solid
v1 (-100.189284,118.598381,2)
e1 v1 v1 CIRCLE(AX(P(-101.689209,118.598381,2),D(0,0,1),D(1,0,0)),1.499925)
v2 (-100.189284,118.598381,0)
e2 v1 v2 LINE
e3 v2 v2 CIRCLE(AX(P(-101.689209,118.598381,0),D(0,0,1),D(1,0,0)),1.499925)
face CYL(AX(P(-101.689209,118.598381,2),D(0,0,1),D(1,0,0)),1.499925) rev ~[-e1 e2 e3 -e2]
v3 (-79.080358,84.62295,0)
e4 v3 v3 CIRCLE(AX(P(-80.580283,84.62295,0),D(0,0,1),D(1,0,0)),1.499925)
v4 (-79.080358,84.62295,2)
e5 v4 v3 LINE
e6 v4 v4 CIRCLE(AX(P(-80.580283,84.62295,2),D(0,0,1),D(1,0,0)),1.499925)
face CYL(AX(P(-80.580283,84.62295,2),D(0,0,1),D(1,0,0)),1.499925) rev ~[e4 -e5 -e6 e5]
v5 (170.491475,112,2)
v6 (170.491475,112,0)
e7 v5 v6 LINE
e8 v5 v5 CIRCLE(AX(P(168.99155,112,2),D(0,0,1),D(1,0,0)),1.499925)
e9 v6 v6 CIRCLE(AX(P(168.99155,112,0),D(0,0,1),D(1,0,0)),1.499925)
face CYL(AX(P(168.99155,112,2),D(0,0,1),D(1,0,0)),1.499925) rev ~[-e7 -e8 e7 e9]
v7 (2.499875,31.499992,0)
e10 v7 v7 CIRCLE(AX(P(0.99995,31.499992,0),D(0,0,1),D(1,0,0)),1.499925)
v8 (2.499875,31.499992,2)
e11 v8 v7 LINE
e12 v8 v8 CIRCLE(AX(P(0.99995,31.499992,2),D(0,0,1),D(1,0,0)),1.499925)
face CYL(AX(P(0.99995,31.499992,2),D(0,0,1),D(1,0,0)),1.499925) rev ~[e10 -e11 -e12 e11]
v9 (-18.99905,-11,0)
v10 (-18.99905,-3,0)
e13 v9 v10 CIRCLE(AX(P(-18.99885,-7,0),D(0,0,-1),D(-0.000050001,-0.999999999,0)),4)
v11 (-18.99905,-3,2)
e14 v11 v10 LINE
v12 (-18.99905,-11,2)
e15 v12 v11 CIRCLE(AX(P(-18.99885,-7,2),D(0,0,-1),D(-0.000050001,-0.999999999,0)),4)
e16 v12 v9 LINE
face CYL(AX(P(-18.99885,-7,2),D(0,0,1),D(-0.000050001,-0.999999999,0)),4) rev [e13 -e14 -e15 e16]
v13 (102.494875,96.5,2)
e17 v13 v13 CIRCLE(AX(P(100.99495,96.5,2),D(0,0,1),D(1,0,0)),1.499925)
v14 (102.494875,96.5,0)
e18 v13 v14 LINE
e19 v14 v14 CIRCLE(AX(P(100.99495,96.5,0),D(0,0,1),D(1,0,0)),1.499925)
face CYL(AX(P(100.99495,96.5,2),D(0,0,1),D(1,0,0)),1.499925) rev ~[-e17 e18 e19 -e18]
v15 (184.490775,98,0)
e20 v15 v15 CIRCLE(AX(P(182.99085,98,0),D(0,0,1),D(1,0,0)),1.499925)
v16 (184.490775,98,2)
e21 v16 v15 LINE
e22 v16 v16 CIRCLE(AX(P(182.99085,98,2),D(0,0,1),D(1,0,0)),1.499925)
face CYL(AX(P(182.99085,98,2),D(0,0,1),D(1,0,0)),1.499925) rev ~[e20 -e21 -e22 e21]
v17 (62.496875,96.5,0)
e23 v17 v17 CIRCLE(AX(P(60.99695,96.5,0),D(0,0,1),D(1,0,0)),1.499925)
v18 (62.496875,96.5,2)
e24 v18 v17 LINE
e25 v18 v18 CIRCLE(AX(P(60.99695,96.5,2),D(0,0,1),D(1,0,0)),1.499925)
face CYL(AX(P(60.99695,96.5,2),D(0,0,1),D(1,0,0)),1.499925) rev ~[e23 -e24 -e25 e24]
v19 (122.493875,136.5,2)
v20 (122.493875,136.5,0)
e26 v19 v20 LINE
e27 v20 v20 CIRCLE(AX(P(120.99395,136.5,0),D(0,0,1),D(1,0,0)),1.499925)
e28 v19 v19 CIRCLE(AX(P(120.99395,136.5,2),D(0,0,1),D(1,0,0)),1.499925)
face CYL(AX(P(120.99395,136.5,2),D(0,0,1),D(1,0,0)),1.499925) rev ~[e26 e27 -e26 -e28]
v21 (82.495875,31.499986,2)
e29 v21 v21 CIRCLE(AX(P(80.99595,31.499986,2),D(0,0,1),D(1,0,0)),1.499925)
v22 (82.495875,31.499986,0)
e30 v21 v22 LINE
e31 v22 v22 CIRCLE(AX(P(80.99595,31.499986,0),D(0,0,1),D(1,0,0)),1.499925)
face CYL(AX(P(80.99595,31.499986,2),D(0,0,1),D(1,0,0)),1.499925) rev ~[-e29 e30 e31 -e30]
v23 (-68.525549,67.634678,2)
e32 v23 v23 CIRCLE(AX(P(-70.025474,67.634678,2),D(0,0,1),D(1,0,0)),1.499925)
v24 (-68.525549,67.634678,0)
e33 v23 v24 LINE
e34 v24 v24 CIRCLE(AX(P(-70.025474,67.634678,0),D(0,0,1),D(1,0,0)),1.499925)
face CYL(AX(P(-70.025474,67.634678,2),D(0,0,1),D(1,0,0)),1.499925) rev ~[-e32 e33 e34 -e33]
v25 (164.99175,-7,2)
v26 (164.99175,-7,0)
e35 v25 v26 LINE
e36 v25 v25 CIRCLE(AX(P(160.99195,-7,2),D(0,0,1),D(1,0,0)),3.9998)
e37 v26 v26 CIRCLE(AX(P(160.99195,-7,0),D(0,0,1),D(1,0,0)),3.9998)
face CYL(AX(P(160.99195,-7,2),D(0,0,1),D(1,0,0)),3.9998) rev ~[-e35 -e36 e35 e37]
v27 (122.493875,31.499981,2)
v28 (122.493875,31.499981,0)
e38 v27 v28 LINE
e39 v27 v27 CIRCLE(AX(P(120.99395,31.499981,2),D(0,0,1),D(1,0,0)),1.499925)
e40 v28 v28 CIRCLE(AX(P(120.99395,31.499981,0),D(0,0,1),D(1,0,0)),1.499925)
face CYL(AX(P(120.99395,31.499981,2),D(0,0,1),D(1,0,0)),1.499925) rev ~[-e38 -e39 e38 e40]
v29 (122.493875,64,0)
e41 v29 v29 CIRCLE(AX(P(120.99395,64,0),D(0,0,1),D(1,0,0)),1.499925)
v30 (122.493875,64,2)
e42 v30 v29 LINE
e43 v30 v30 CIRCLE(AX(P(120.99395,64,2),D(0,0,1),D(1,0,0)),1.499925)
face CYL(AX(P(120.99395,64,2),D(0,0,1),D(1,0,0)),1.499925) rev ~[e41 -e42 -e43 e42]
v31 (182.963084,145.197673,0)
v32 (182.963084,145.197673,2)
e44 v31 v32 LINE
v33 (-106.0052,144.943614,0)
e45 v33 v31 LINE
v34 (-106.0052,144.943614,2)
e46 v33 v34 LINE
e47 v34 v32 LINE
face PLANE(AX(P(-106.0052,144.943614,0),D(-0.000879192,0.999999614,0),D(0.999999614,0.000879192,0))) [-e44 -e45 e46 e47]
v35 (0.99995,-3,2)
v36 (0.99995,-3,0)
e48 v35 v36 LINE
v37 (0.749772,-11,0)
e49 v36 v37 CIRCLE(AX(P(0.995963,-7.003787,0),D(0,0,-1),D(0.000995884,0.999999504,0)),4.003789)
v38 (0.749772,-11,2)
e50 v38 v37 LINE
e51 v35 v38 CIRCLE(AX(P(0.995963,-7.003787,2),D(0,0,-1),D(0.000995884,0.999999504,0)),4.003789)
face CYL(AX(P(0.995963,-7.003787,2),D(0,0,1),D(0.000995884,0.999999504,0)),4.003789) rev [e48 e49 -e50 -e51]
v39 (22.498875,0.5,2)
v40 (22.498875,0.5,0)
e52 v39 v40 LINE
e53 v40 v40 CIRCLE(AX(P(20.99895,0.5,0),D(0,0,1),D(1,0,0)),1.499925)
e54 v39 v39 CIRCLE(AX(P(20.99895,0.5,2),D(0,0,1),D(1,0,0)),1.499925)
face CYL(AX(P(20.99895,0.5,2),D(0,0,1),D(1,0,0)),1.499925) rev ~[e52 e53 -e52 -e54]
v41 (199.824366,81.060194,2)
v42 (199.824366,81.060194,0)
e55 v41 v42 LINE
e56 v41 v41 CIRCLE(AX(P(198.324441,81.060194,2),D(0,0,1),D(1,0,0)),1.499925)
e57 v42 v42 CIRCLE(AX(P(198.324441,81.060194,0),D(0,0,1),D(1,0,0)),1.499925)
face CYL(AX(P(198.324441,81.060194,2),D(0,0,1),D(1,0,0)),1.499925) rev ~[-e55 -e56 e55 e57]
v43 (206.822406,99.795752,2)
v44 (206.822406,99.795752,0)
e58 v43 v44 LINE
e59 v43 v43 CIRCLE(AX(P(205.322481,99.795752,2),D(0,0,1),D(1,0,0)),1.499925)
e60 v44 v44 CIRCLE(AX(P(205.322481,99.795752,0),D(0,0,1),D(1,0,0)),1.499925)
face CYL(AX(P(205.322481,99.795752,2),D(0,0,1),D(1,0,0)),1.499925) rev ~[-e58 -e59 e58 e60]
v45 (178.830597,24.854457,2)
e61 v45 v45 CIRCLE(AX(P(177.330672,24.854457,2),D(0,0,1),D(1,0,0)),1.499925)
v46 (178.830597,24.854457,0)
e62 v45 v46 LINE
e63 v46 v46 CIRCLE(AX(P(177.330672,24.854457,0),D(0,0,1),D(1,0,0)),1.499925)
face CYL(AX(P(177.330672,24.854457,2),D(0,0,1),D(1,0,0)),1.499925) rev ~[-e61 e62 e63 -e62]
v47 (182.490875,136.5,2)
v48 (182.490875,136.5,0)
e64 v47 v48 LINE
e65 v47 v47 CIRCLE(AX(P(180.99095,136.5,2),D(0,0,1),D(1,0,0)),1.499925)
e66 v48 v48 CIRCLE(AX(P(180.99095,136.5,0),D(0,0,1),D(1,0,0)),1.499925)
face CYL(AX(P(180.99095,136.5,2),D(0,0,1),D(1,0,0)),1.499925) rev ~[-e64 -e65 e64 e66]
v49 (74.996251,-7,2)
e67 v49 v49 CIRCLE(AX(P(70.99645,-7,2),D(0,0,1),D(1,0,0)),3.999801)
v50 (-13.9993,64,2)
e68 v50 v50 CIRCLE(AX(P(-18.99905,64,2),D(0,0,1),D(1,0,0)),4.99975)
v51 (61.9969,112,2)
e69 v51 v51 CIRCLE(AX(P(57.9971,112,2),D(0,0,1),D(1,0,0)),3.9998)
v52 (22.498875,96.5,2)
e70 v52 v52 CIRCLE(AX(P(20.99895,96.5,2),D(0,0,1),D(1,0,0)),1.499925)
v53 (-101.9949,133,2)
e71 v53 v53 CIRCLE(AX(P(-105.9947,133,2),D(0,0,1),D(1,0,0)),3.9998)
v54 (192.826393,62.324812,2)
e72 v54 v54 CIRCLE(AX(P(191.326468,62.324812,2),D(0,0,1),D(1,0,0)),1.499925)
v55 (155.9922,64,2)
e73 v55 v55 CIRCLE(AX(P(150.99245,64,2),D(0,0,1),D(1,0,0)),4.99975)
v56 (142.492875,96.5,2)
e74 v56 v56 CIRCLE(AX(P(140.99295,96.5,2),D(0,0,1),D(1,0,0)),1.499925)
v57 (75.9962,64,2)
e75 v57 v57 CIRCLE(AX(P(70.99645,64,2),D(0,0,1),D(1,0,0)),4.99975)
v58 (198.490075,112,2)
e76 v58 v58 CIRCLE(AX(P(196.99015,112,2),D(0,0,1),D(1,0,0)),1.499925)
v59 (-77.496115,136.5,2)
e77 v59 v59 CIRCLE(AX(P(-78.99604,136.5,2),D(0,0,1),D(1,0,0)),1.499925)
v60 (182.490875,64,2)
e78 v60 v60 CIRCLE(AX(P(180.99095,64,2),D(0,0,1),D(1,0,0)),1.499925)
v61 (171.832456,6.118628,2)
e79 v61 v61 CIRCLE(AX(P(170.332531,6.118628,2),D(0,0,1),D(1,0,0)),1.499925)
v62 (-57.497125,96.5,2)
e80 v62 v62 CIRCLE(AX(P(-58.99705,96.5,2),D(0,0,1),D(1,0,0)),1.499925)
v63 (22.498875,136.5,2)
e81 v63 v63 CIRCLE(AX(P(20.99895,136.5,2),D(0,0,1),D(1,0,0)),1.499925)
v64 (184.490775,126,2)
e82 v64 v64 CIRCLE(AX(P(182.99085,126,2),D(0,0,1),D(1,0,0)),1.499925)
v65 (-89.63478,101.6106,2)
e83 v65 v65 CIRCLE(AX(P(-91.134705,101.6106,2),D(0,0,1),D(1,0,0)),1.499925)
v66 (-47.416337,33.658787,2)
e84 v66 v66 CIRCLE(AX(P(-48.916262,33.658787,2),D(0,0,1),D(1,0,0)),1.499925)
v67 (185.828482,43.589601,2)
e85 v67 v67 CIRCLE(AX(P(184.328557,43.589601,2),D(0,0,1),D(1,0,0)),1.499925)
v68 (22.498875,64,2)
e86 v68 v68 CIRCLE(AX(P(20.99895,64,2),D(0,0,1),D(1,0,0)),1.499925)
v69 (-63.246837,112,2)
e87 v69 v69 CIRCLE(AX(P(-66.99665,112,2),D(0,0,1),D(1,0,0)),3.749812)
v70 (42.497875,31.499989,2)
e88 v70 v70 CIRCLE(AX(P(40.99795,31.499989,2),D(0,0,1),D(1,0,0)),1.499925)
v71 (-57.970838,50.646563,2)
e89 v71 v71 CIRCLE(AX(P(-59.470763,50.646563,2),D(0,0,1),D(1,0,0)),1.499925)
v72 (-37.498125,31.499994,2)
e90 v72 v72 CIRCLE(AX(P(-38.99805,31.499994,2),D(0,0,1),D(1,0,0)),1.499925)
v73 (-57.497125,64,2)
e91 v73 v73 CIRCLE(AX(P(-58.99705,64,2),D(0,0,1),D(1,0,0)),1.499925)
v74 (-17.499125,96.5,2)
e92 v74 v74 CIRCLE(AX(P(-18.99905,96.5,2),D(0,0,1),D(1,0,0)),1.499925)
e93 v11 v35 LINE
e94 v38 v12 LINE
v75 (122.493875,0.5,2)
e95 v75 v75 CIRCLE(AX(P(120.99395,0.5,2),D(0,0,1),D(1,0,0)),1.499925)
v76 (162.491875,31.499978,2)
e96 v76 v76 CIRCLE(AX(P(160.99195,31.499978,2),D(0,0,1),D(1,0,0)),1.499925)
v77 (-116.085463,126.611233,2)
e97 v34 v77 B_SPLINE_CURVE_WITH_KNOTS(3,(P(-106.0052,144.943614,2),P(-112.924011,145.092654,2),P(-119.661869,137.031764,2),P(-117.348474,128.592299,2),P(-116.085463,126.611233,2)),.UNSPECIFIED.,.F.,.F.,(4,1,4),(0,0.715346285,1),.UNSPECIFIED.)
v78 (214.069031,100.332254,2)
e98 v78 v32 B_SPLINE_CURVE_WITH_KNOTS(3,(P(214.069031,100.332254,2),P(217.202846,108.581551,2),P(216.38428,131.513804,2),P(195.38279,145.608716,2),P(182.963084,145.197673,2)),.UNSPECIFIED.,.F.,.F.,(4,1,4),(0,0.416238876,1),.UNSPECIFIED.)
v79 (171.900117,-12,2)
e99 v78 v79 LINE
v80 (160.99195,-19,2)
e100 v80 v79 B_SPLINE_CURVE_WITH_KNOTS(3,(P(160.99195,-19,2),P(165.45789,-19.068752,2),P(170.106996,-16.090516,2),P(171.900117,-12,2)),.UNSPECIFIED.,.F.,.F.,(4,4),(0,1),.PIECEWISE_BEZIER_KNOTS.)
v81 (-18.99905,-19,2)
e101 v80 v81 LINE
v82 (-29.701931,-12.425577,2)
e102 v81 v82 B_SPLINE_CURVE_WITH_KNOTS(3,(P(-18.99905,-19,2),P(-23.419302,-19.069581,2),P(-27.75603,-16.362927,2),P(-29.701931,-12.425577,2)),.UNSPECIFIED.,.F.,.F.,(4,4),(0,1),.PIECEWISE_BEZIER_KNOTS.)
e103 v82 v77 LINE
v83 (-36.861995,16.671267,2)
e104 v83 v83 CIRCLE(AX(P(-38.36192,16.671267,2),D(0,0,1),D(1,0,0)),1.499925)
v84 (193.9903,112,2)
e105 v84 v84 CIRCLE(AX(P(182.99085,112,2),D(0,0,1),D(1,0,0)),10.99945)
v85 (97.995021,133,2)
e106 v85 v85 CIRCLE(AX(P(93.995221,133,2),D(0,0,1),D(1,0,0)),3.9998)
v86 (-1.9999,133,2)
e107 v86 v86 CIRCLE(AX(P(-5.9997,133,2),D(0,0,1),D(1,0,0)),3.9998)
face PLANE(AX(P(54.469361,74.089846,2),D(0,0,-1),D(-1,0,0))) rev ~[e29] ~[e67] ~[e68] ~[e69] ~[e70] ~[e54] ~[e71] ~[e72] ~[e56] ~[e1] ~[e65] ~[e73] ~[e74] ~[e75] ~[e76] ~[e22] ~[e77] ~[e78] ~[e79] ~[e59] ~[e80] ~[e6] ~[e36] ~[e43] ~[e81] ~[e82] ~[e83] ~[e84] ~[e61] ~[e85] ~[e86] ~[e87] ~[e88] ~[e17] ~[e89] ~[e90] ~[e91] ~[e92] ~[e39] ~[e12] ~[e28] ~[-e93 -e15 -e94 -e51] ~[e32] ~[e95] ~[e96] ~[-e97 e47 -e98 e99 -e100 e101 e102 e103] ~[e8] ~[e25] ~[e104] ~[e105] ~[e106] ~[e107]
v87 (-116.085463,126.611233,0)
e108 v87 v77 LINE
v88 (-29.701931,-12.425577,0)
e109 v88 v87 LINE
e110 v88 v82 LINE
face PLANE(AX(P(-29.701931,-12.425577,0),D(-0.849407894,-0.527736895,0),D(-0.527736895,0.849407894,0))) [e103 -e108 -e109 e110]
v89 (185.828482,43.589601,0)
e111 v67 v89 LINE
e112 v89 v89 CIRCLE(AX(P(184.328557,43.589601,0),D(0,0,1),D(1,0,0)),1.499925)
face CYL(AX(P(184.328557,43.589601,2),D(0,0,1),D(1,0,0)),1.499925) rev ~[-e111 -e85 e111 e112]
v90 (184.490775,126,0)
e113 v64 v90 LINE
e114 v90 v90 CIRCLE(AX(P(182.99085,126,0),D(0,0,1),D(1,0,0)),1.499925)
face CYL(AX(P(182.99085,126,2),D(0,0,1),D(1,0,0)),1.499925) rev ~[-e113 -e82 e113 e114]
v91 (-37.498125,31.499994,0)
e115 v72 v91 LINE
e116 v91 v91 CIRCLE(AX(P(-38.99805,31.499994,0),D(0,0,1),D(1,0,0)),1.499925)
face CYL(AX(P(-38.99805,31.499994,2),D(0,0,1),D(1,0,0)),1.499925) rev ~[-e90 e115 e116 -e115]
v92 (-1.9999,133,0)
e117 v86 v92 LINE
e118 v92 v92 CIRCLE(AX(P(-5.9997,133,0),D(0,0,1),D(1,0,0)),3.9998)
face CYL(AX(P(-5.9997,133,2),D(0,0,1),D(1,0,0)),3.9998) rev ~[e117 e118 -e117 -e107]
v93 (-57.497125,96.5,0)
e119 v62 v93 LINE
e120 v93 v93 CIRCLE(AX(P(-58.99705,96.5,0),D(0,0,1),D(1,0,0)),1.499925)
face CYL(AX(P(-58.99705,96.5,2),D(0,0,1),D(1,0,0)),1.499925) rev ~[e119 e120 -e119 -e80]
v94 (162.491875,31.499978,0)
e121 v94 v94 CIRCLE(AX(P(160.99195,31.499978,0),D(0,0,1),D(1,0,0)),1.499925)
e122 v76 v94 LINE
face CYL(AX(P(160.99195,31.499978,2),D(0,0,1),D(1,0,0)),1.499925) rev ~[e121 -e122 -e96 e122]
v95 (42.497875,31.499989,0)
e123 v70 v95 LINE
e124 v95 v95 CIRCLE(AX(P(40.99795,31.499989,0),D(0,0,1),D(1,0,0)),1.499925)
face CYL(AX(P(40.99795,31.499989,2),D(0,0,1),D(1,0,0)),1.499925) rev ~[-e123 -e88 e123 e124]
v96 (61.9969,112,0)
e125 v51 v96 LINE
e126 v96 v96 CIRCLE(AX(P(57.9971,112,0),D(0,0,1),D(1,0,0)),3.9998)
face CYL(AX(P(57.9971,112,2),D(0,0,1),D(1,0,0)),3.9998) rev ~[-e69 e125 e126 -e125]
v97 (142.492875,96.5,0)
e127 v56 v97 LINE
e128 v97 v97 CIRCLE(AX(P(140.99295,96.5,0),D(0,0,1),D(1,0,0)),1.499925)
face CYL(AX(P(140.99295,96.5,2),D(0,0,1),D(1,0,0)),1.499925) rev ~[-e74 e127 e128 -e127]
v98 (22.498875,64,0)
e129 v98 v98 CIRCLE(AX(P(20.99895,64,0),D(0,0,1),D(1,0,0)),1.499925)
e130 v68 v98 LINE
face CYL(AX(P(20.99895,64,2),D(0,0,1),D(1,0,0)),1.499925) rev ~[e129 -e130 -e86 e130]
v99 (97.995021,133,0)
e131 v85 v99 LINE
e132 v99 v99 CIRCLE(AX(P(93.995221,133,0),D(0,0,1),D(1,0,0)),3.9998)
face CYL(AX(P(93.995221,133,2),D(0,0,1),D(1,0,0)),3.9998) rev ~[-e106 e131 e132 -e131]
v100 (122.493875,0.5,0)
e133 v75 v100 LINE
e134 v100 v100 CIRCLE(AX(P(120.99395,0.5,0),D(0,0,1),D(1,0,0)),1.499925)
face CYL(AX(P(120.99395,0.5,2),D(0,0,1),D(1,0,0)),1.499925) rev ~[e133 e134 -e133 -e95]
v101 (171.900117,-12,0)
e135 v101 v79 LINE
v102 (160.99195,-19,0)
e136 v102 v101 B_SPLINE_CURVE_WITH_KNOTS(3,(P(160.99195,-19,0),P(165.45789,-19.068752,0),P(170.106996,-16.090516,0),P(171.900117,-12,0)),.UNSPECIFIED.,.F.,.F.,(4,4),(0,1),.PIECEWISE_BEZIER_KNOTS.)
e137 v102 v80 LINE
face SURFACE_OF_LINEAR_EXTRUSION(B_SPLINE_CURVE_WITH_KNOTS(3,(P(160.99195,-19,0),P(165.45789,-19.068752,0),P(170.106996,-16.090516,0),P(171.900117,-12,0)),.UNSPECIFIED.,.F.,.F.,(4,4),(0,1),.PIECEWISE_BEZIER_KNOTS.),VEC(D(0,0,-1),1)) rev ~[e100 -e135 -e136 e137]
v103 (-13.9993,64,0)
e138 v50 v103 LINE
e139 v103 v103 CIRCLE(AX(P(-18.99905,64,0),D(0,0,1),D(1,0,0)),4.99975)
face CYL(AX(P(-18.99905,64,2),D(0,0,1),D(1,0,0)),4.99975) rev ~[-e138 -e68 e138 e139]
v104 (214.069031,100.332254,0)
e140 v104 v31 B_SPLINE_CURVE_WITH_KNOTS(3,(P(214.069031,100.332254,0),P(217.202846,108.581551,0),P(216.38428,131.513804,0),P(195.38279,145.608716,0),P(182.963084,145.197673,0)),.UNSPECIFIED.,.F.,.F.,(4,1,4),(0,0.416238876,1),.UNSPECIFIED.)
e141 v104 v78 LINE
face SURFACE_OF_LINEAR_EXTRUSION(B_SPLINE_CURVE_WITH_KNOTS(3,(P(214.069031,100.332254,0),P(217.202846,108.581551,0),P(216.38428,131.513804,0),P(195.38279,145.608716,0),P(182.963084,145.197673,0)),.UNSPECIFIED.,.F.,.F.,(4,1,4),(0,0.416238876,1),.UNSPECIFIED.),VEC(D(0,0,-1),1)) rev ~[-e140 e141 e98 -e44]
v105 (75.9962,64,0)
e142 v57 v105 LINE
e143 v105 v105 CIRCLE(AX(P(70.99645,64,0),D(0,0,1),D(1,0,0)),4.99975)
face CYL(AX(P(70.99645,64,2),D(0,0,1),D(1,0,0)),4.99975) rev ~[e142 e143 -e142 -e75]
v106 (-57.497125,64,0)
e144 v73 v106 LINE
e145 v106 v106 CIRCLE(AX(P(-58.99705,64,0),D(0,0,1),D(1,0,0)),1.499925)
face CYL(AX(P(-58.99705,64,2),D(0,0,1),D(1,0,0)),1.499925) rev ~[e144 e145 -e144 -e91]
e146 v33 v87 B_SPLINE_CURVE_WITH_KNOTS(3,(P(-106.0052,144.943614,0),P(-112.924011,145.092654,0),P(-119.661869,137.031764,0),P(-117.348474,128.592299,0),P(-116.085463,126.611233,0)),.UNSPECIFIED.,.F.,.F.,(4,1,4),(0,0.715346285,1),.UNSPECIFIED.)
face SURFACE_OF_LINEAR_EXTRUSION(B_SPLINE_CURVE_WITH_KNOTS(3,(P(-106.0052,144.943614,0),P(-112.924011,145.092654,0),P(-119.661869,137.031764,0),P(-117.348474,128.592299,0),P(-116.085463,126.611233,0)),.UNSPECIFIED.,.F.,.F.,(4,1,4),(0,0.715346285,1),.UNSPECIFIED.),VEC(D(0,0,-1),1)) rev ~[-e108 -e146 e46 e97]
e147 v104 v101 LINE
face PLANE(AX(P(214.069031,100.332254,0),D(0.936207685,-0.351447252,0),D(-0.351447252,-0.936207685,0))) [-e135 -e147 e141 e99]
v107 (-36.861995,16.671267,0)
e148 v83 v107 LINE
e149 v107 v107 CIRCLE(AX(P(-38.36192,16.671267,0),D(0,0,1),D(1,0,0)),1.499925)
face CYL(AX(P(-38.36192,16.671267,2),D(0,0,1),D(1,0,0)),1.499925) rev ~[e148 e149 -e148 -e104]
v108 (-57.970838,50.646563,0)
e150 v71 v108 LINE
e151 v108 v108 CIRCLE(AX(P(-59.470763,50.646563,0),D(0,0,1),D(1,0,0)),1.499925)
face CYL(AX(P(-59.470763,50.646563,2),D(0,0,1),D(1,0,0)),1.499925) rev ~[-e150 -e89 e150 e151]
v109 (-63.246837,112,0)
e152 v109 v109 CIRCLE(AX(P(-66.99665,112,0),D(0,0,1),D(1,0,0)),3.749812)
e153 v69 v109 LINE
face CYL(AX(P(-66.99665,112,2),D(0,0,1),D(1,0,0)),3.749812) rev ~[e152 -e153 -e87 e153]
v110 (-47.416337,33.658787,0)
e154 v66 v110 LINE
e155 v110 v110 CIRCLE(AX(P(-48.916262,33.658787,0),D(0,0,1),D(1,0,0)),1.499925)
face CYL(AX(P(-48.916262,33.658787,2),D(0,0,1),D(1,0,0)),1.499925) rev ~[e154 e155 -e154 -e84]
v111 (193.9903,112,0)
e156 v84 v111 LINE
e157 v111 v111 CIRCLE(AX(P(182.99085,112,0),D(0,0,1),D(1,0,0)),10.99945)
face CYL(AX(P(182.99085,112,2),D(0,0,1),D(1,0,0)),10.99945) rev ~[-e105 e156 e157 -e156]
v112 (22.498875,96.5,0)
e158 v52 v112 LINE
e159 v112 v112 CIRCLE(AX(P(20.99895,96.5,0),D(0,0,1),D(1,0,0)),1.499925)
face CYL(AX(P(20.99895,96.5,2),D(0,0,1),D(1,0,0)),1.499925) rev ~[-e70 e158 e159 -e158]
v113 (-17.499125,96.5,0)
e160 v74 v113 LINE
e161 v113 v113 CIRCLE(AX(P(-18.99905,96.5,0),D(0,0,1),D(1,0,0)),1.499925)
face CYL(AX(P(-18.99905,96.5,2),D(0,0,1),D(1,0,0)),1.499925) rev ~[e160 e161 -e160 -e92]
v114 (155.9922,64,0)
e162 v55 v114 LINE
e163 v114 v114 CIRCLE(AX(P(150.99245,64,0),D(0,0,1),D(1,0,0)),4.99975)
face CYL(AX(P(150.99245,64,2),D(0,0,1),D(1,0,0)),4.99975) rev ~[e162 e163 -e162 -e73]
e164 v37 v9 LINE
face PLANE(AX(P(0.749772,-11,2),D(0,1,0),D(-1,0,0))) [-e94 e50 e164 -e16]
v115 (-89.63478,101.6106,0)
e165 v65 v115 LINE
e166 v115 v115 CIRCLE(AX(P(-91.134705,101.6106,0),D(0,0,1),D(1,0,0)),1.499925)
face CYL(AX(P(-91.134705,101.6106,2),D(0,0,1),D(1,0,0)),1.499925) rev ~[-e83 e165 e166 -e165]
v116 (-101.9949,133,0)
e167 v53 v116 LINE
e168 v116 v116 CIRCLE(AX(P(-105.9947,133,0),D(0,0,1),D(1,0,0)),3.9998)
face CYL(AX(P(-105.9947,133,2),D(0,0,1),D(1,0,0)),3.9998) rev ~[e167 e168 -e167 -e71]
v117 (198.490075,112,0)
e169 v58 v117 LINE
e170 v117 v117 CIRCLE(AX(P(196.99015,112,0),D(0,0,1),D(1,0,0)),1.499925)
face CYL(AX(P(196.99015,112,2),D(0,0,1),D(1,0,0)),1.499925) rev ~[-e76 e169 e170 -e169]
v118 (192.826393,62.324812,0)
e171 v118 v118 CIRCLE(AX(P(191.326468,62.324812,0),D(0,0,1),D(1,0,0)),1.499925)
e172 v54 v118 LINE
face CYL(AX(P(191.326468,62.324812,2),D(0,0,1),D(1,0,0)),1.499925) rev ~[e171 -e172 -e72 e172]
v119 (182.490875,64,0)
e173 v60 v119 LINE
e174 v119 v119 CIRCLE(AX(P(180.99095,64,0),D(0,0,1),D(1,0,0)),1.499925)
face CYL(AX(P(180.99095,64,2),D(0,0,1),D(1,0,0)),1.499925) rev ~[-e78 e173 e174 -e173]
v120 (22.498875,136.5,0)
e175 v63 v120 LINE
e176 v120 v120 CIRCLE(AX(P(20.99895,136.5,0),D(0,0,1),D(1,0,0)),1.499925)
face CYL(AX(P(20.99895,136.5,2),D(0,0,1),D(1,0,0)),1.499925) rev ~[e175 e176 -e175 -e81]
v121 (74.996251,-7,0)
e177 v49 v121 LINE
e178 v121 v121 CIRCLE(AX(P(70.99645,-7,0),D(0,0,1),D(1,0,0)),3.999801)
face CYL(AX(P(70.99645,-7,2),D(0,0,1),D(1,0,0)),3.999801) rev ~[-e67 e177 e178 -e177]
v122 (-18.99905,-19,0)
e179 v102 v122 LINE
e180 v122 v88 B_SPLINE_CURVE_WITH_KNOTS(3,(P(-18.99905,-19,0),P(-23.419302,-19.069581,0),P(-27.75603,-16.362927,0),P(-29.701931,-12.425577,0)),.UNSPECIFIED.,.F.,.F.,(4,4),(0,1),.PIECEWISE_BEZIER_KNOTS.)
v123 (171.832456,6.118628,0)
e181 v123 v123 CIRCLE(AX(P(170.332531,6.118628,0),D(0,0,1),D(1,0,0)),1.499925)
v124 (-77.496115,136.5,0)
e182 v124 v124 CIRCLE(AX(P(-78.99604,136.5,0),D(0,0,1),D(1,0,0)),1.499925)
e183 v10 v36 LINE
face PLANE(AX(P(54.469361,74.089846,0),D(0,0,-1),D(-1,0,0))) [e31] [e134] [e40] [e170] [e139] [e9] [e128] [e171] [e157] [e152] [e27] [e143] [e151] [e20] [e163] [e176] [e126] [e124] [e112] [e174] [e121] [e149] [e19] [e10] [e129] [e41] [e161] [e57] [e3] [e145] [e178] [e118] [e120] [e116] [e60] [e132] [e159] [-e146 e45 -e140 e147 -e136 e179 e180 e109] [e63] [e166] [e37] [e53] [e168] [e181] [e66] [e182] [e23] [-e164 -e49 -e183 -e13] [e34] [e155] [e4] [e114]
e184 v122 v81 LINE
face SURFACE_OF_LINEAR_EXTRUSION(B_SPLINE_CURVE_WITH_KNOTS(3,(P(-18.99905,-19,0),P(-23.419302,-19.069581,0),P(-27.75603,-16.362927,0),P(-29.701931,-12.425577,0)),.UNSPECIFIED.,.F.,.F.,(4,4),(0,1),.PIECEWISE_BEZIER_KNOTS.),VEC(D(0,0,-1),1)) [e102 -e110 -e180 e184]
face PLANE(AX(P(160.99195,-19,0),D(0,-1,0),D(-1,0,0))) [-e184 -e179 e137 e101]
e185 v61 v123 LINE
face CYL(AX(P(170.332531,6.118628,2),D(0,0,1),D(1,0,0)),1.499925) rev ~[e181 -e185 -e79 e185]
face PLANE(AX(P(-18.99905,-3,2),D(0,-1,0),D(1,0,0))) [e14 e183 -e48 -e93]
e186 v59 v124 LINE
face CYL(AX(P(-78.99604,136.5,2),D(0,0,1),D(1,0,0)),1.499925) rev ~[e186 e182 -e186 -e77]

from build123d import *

# Parameters (mm, degrees)
BOSS_EXTRUDE1_DEPTH = 2
SKETCH4_R           = 3.9998
SKETCH4_R_2         = 1.499925
SKETCH4_R_3         = 3.7498125
SKETCH4_R_4         = 10.99945
SKETCH4_R_5         = 4.99975
SKETCH4_R_6         = 3.999800521
CUT_EXTRUDE1_DEPTH  = 2


with BuildPart() as part:
    # Sketch3 → Boss-Extrude1 (new body)
    with BuildSketch(Plane.XY):
        with BuildLine():
            Line((-106.00519968, 144.943614194), (182.96308424, 145.197672799))
            add(Edge.make_bspline(
                [(214.06903129, 100.332253713), (217.202846332, 108.581551057), (216.384279944, 131.51380425), (195.382789786, 145.608716116), (182.96308424, 145.197672799)],
                knots=[0, 0, 0, 0, 0.416238876, 1, 1, 1, 1], degree=3))
            Line((214.06903129, 100.332253713), (171.900116679, -12))
            add(Edge.make_bspline(
                [(160.991950179, -19), (165.457889658, -19.068752161), (170.106996065, -16.09051608), (171.900116679, -12)],
                knots=[0, 0, 0, 0, 1, 1, 1, 1], degree=3))
            Line((160.991950179, -19), (-18.999049973, -19))
            add(Edge.make_bspline(
                [(-18.999049973, -19), (-23.419302443, -19.069581379), (-27.756029743, -16.362926839), (-29.701931061, -12.425576557)],
                knots=[0, 0, 0, 0, 1, 1, 1, 1], degree=3))
            Line((-29.701931061, -12.425576557), (-116.08546313, 126.611232779))
            add(Edge.make_bspline(
                [(-106.00519968, 144.943614194), (-112.924010598, 145.092654371), (-119.661868892, 137.031763828), (-117.348474018, 128.592298794), (-116.08546313, 126.611232779)],
                knots=[0, 0, 0, 0, 0.715346285, 1, 1, 1, 1], degree=3))
        make_face()
    extrude(amount=BOSS_EXTRUDE1_DEPTH)

    # Sketch4 → Cut-Extrude1 (cut)
    with BuildSketch(Plane.XY.offset(2)):
        with Locations((-105.9947, 133)):
            Circle(SKETCH4_R)
        with Locations((-78.996040132, 136.5)):
            Circle(SKETCH4_R_2)
        with Locations((-101.689209002, 118.598380963)):
            Circle(SKETCH4_R_2)
        with Locations((-91.134705429, 101.610600241)):
            Circle(SKETCH4_R_2)
        with Locations((-66.99665, 112)):
            Circle(SKETCH4_R_3)
        with Locations((-80.580283096, 84.622950275)):
            Circle(SKETCH4_R_2)
        with Locations((-5.9997, 133)):
            Circle(SKETCH4_R)
        with Locations((20.99895, 136.5)):
            Circle(SKETCH4_R_2)
        with Locations((20.99895, 96.5)):
            Circle(SKETCH4_R_2)
        with Locations((-18.99905, 96.5)):
            Circle(SKETCH4_R_2)
        with Locations((-58.99705, 96.5)):
            Circle(SKETCH4_R_2)
        with Locations((57.9971, 112)):
            Circle(SKETCH4_R)
        with Locations((60.99695, 96.5)):
            Circle(SKETCH4_R_2)
        with Locations((182.99085, 112)):
            Circle(SKETCH4_R_4)
        with Locations((182.99085, 126)):
            Circle(SKETCH4_R_2)
        with Locations((180.99095, 136.5)):
            Circle(SKETCH4_R_2)
        with Locations((120.99395, 136.5)):
            Circle(SKETCH4_R_2)
        with Locations((93.995220809, 133)):
            Circle(SKETCH4_R)
        with Locations((100.99495, 96.5)):
            Circle(SKETCH4_R_2)
        with Locations((140.99295, 96.5)):
            Circle(SKETCH4_R_2)
        with Locations((168.99155, 112)):
            Circle(SKETCH4_R_2)
        with Locations((196.99015, 112)):
            Circle(SKETCH4_R_2)
        with Locations((182.99085, 98)):
            Circle(SKETCH4_R_2)
        with Locations((205.322481122, 99.795751553)):
            Circle(SKETCH4_R_2)
        with Locations((198.324441471, 81.060193672)):
            Circle(SKETCH4_R_2)
        with Locations((150.99245, 64)):
            Circle(SKETCH4_R_5)
        with Locations((180.99095, 64)):
            Circle(SKETCH4_R_2)
        with Locations((191.32646769, 62.324812144)):
            Circle(SKETCH4_R_2)
        with Locations((120.99395, 64)):
            Circle(SKETCH4_R_2)
        with Locations((184.328557385, 43.589600555)):
            Circle(SKETCH4_R_2)
        with Locations((70.99645, 64)):
            Circle(SKETCH4_R_5)
        with Locations((20.99895, 64)):
            Circle(SKETCH4_R_2)
        with Locations((0.99995, 31.499992415)):
            Circle(SKETCH4_R_2)
        with Locations((40.99795, 31.499988622)):
            Circle(SKETCH4_R_2)
        with Locations((80.99595, 31.499985778)):
            Circle(SKETCH4_R_2)
        with Locations((120.99395, 31.499981037)):
            Circle(SKETCH4_R_2)
        with Locations((160.99195, 31.499978192)):
            Circle(SKETCH4_R_2)
        with Locations((177.330672341, 24.854456596)):
            Circle(SKETCH4_R_2)
        with Locations((-18.99905, 64)):
            Circle(SKETCH4_R_5)
        with Locations((-70.02547384, 67.634677545)):
            Circle(SKETCH4_R_2)
        with Locations((-58.99705, 64)):
            Circle(SKETCH4_R_2)
        with Locations((-59.470762984, 50.646563195)):
            Circle(SKETCH4_R_2)
        with Locations((-48.916261932, 33.658786529)):
            Circle(SKETCH4_R_2)
        with Locations((-38.99805, 31.499994311)):
            Circle(SKETCH4_R_2)
        with Locations((-38.361920415, 16.671266638)):
            Circle(SKETCH4_R_2)
        with Locations((20.99895, 0.5)):
            Circle(SKETCH4_R_2)
        with Locations((70.99645, -7)):
            Circle(SKETCH4_R_6)
        with Locations((160.99195, -7)):
            Circle(SKETCH4_R)
        with Locations((170.332531489, 6.118627774)):
            Circle(SKETCH4_R_2)
        with Locations((120.99395, 0.5)):
            Circle(SKETCH4_R_2)
        with BuildLine():
            Line((-18.99905, -3), (0.99995, -3))
            ThreePointArc((0.99995, -3), (4.997795472, -7.128933101), (0.749772406, -11))
            Line((0.749772406, -11), (-18.99905, -11))
            ThreePointArc((-18.99905, -11), (-22.99885, -7), (-18.99905, -3))
        make_face()
    extrude(amount=-CUT_EXTRUDE1_DEPTH, mode=Mode.SUBTRACT)


solid = part.part
